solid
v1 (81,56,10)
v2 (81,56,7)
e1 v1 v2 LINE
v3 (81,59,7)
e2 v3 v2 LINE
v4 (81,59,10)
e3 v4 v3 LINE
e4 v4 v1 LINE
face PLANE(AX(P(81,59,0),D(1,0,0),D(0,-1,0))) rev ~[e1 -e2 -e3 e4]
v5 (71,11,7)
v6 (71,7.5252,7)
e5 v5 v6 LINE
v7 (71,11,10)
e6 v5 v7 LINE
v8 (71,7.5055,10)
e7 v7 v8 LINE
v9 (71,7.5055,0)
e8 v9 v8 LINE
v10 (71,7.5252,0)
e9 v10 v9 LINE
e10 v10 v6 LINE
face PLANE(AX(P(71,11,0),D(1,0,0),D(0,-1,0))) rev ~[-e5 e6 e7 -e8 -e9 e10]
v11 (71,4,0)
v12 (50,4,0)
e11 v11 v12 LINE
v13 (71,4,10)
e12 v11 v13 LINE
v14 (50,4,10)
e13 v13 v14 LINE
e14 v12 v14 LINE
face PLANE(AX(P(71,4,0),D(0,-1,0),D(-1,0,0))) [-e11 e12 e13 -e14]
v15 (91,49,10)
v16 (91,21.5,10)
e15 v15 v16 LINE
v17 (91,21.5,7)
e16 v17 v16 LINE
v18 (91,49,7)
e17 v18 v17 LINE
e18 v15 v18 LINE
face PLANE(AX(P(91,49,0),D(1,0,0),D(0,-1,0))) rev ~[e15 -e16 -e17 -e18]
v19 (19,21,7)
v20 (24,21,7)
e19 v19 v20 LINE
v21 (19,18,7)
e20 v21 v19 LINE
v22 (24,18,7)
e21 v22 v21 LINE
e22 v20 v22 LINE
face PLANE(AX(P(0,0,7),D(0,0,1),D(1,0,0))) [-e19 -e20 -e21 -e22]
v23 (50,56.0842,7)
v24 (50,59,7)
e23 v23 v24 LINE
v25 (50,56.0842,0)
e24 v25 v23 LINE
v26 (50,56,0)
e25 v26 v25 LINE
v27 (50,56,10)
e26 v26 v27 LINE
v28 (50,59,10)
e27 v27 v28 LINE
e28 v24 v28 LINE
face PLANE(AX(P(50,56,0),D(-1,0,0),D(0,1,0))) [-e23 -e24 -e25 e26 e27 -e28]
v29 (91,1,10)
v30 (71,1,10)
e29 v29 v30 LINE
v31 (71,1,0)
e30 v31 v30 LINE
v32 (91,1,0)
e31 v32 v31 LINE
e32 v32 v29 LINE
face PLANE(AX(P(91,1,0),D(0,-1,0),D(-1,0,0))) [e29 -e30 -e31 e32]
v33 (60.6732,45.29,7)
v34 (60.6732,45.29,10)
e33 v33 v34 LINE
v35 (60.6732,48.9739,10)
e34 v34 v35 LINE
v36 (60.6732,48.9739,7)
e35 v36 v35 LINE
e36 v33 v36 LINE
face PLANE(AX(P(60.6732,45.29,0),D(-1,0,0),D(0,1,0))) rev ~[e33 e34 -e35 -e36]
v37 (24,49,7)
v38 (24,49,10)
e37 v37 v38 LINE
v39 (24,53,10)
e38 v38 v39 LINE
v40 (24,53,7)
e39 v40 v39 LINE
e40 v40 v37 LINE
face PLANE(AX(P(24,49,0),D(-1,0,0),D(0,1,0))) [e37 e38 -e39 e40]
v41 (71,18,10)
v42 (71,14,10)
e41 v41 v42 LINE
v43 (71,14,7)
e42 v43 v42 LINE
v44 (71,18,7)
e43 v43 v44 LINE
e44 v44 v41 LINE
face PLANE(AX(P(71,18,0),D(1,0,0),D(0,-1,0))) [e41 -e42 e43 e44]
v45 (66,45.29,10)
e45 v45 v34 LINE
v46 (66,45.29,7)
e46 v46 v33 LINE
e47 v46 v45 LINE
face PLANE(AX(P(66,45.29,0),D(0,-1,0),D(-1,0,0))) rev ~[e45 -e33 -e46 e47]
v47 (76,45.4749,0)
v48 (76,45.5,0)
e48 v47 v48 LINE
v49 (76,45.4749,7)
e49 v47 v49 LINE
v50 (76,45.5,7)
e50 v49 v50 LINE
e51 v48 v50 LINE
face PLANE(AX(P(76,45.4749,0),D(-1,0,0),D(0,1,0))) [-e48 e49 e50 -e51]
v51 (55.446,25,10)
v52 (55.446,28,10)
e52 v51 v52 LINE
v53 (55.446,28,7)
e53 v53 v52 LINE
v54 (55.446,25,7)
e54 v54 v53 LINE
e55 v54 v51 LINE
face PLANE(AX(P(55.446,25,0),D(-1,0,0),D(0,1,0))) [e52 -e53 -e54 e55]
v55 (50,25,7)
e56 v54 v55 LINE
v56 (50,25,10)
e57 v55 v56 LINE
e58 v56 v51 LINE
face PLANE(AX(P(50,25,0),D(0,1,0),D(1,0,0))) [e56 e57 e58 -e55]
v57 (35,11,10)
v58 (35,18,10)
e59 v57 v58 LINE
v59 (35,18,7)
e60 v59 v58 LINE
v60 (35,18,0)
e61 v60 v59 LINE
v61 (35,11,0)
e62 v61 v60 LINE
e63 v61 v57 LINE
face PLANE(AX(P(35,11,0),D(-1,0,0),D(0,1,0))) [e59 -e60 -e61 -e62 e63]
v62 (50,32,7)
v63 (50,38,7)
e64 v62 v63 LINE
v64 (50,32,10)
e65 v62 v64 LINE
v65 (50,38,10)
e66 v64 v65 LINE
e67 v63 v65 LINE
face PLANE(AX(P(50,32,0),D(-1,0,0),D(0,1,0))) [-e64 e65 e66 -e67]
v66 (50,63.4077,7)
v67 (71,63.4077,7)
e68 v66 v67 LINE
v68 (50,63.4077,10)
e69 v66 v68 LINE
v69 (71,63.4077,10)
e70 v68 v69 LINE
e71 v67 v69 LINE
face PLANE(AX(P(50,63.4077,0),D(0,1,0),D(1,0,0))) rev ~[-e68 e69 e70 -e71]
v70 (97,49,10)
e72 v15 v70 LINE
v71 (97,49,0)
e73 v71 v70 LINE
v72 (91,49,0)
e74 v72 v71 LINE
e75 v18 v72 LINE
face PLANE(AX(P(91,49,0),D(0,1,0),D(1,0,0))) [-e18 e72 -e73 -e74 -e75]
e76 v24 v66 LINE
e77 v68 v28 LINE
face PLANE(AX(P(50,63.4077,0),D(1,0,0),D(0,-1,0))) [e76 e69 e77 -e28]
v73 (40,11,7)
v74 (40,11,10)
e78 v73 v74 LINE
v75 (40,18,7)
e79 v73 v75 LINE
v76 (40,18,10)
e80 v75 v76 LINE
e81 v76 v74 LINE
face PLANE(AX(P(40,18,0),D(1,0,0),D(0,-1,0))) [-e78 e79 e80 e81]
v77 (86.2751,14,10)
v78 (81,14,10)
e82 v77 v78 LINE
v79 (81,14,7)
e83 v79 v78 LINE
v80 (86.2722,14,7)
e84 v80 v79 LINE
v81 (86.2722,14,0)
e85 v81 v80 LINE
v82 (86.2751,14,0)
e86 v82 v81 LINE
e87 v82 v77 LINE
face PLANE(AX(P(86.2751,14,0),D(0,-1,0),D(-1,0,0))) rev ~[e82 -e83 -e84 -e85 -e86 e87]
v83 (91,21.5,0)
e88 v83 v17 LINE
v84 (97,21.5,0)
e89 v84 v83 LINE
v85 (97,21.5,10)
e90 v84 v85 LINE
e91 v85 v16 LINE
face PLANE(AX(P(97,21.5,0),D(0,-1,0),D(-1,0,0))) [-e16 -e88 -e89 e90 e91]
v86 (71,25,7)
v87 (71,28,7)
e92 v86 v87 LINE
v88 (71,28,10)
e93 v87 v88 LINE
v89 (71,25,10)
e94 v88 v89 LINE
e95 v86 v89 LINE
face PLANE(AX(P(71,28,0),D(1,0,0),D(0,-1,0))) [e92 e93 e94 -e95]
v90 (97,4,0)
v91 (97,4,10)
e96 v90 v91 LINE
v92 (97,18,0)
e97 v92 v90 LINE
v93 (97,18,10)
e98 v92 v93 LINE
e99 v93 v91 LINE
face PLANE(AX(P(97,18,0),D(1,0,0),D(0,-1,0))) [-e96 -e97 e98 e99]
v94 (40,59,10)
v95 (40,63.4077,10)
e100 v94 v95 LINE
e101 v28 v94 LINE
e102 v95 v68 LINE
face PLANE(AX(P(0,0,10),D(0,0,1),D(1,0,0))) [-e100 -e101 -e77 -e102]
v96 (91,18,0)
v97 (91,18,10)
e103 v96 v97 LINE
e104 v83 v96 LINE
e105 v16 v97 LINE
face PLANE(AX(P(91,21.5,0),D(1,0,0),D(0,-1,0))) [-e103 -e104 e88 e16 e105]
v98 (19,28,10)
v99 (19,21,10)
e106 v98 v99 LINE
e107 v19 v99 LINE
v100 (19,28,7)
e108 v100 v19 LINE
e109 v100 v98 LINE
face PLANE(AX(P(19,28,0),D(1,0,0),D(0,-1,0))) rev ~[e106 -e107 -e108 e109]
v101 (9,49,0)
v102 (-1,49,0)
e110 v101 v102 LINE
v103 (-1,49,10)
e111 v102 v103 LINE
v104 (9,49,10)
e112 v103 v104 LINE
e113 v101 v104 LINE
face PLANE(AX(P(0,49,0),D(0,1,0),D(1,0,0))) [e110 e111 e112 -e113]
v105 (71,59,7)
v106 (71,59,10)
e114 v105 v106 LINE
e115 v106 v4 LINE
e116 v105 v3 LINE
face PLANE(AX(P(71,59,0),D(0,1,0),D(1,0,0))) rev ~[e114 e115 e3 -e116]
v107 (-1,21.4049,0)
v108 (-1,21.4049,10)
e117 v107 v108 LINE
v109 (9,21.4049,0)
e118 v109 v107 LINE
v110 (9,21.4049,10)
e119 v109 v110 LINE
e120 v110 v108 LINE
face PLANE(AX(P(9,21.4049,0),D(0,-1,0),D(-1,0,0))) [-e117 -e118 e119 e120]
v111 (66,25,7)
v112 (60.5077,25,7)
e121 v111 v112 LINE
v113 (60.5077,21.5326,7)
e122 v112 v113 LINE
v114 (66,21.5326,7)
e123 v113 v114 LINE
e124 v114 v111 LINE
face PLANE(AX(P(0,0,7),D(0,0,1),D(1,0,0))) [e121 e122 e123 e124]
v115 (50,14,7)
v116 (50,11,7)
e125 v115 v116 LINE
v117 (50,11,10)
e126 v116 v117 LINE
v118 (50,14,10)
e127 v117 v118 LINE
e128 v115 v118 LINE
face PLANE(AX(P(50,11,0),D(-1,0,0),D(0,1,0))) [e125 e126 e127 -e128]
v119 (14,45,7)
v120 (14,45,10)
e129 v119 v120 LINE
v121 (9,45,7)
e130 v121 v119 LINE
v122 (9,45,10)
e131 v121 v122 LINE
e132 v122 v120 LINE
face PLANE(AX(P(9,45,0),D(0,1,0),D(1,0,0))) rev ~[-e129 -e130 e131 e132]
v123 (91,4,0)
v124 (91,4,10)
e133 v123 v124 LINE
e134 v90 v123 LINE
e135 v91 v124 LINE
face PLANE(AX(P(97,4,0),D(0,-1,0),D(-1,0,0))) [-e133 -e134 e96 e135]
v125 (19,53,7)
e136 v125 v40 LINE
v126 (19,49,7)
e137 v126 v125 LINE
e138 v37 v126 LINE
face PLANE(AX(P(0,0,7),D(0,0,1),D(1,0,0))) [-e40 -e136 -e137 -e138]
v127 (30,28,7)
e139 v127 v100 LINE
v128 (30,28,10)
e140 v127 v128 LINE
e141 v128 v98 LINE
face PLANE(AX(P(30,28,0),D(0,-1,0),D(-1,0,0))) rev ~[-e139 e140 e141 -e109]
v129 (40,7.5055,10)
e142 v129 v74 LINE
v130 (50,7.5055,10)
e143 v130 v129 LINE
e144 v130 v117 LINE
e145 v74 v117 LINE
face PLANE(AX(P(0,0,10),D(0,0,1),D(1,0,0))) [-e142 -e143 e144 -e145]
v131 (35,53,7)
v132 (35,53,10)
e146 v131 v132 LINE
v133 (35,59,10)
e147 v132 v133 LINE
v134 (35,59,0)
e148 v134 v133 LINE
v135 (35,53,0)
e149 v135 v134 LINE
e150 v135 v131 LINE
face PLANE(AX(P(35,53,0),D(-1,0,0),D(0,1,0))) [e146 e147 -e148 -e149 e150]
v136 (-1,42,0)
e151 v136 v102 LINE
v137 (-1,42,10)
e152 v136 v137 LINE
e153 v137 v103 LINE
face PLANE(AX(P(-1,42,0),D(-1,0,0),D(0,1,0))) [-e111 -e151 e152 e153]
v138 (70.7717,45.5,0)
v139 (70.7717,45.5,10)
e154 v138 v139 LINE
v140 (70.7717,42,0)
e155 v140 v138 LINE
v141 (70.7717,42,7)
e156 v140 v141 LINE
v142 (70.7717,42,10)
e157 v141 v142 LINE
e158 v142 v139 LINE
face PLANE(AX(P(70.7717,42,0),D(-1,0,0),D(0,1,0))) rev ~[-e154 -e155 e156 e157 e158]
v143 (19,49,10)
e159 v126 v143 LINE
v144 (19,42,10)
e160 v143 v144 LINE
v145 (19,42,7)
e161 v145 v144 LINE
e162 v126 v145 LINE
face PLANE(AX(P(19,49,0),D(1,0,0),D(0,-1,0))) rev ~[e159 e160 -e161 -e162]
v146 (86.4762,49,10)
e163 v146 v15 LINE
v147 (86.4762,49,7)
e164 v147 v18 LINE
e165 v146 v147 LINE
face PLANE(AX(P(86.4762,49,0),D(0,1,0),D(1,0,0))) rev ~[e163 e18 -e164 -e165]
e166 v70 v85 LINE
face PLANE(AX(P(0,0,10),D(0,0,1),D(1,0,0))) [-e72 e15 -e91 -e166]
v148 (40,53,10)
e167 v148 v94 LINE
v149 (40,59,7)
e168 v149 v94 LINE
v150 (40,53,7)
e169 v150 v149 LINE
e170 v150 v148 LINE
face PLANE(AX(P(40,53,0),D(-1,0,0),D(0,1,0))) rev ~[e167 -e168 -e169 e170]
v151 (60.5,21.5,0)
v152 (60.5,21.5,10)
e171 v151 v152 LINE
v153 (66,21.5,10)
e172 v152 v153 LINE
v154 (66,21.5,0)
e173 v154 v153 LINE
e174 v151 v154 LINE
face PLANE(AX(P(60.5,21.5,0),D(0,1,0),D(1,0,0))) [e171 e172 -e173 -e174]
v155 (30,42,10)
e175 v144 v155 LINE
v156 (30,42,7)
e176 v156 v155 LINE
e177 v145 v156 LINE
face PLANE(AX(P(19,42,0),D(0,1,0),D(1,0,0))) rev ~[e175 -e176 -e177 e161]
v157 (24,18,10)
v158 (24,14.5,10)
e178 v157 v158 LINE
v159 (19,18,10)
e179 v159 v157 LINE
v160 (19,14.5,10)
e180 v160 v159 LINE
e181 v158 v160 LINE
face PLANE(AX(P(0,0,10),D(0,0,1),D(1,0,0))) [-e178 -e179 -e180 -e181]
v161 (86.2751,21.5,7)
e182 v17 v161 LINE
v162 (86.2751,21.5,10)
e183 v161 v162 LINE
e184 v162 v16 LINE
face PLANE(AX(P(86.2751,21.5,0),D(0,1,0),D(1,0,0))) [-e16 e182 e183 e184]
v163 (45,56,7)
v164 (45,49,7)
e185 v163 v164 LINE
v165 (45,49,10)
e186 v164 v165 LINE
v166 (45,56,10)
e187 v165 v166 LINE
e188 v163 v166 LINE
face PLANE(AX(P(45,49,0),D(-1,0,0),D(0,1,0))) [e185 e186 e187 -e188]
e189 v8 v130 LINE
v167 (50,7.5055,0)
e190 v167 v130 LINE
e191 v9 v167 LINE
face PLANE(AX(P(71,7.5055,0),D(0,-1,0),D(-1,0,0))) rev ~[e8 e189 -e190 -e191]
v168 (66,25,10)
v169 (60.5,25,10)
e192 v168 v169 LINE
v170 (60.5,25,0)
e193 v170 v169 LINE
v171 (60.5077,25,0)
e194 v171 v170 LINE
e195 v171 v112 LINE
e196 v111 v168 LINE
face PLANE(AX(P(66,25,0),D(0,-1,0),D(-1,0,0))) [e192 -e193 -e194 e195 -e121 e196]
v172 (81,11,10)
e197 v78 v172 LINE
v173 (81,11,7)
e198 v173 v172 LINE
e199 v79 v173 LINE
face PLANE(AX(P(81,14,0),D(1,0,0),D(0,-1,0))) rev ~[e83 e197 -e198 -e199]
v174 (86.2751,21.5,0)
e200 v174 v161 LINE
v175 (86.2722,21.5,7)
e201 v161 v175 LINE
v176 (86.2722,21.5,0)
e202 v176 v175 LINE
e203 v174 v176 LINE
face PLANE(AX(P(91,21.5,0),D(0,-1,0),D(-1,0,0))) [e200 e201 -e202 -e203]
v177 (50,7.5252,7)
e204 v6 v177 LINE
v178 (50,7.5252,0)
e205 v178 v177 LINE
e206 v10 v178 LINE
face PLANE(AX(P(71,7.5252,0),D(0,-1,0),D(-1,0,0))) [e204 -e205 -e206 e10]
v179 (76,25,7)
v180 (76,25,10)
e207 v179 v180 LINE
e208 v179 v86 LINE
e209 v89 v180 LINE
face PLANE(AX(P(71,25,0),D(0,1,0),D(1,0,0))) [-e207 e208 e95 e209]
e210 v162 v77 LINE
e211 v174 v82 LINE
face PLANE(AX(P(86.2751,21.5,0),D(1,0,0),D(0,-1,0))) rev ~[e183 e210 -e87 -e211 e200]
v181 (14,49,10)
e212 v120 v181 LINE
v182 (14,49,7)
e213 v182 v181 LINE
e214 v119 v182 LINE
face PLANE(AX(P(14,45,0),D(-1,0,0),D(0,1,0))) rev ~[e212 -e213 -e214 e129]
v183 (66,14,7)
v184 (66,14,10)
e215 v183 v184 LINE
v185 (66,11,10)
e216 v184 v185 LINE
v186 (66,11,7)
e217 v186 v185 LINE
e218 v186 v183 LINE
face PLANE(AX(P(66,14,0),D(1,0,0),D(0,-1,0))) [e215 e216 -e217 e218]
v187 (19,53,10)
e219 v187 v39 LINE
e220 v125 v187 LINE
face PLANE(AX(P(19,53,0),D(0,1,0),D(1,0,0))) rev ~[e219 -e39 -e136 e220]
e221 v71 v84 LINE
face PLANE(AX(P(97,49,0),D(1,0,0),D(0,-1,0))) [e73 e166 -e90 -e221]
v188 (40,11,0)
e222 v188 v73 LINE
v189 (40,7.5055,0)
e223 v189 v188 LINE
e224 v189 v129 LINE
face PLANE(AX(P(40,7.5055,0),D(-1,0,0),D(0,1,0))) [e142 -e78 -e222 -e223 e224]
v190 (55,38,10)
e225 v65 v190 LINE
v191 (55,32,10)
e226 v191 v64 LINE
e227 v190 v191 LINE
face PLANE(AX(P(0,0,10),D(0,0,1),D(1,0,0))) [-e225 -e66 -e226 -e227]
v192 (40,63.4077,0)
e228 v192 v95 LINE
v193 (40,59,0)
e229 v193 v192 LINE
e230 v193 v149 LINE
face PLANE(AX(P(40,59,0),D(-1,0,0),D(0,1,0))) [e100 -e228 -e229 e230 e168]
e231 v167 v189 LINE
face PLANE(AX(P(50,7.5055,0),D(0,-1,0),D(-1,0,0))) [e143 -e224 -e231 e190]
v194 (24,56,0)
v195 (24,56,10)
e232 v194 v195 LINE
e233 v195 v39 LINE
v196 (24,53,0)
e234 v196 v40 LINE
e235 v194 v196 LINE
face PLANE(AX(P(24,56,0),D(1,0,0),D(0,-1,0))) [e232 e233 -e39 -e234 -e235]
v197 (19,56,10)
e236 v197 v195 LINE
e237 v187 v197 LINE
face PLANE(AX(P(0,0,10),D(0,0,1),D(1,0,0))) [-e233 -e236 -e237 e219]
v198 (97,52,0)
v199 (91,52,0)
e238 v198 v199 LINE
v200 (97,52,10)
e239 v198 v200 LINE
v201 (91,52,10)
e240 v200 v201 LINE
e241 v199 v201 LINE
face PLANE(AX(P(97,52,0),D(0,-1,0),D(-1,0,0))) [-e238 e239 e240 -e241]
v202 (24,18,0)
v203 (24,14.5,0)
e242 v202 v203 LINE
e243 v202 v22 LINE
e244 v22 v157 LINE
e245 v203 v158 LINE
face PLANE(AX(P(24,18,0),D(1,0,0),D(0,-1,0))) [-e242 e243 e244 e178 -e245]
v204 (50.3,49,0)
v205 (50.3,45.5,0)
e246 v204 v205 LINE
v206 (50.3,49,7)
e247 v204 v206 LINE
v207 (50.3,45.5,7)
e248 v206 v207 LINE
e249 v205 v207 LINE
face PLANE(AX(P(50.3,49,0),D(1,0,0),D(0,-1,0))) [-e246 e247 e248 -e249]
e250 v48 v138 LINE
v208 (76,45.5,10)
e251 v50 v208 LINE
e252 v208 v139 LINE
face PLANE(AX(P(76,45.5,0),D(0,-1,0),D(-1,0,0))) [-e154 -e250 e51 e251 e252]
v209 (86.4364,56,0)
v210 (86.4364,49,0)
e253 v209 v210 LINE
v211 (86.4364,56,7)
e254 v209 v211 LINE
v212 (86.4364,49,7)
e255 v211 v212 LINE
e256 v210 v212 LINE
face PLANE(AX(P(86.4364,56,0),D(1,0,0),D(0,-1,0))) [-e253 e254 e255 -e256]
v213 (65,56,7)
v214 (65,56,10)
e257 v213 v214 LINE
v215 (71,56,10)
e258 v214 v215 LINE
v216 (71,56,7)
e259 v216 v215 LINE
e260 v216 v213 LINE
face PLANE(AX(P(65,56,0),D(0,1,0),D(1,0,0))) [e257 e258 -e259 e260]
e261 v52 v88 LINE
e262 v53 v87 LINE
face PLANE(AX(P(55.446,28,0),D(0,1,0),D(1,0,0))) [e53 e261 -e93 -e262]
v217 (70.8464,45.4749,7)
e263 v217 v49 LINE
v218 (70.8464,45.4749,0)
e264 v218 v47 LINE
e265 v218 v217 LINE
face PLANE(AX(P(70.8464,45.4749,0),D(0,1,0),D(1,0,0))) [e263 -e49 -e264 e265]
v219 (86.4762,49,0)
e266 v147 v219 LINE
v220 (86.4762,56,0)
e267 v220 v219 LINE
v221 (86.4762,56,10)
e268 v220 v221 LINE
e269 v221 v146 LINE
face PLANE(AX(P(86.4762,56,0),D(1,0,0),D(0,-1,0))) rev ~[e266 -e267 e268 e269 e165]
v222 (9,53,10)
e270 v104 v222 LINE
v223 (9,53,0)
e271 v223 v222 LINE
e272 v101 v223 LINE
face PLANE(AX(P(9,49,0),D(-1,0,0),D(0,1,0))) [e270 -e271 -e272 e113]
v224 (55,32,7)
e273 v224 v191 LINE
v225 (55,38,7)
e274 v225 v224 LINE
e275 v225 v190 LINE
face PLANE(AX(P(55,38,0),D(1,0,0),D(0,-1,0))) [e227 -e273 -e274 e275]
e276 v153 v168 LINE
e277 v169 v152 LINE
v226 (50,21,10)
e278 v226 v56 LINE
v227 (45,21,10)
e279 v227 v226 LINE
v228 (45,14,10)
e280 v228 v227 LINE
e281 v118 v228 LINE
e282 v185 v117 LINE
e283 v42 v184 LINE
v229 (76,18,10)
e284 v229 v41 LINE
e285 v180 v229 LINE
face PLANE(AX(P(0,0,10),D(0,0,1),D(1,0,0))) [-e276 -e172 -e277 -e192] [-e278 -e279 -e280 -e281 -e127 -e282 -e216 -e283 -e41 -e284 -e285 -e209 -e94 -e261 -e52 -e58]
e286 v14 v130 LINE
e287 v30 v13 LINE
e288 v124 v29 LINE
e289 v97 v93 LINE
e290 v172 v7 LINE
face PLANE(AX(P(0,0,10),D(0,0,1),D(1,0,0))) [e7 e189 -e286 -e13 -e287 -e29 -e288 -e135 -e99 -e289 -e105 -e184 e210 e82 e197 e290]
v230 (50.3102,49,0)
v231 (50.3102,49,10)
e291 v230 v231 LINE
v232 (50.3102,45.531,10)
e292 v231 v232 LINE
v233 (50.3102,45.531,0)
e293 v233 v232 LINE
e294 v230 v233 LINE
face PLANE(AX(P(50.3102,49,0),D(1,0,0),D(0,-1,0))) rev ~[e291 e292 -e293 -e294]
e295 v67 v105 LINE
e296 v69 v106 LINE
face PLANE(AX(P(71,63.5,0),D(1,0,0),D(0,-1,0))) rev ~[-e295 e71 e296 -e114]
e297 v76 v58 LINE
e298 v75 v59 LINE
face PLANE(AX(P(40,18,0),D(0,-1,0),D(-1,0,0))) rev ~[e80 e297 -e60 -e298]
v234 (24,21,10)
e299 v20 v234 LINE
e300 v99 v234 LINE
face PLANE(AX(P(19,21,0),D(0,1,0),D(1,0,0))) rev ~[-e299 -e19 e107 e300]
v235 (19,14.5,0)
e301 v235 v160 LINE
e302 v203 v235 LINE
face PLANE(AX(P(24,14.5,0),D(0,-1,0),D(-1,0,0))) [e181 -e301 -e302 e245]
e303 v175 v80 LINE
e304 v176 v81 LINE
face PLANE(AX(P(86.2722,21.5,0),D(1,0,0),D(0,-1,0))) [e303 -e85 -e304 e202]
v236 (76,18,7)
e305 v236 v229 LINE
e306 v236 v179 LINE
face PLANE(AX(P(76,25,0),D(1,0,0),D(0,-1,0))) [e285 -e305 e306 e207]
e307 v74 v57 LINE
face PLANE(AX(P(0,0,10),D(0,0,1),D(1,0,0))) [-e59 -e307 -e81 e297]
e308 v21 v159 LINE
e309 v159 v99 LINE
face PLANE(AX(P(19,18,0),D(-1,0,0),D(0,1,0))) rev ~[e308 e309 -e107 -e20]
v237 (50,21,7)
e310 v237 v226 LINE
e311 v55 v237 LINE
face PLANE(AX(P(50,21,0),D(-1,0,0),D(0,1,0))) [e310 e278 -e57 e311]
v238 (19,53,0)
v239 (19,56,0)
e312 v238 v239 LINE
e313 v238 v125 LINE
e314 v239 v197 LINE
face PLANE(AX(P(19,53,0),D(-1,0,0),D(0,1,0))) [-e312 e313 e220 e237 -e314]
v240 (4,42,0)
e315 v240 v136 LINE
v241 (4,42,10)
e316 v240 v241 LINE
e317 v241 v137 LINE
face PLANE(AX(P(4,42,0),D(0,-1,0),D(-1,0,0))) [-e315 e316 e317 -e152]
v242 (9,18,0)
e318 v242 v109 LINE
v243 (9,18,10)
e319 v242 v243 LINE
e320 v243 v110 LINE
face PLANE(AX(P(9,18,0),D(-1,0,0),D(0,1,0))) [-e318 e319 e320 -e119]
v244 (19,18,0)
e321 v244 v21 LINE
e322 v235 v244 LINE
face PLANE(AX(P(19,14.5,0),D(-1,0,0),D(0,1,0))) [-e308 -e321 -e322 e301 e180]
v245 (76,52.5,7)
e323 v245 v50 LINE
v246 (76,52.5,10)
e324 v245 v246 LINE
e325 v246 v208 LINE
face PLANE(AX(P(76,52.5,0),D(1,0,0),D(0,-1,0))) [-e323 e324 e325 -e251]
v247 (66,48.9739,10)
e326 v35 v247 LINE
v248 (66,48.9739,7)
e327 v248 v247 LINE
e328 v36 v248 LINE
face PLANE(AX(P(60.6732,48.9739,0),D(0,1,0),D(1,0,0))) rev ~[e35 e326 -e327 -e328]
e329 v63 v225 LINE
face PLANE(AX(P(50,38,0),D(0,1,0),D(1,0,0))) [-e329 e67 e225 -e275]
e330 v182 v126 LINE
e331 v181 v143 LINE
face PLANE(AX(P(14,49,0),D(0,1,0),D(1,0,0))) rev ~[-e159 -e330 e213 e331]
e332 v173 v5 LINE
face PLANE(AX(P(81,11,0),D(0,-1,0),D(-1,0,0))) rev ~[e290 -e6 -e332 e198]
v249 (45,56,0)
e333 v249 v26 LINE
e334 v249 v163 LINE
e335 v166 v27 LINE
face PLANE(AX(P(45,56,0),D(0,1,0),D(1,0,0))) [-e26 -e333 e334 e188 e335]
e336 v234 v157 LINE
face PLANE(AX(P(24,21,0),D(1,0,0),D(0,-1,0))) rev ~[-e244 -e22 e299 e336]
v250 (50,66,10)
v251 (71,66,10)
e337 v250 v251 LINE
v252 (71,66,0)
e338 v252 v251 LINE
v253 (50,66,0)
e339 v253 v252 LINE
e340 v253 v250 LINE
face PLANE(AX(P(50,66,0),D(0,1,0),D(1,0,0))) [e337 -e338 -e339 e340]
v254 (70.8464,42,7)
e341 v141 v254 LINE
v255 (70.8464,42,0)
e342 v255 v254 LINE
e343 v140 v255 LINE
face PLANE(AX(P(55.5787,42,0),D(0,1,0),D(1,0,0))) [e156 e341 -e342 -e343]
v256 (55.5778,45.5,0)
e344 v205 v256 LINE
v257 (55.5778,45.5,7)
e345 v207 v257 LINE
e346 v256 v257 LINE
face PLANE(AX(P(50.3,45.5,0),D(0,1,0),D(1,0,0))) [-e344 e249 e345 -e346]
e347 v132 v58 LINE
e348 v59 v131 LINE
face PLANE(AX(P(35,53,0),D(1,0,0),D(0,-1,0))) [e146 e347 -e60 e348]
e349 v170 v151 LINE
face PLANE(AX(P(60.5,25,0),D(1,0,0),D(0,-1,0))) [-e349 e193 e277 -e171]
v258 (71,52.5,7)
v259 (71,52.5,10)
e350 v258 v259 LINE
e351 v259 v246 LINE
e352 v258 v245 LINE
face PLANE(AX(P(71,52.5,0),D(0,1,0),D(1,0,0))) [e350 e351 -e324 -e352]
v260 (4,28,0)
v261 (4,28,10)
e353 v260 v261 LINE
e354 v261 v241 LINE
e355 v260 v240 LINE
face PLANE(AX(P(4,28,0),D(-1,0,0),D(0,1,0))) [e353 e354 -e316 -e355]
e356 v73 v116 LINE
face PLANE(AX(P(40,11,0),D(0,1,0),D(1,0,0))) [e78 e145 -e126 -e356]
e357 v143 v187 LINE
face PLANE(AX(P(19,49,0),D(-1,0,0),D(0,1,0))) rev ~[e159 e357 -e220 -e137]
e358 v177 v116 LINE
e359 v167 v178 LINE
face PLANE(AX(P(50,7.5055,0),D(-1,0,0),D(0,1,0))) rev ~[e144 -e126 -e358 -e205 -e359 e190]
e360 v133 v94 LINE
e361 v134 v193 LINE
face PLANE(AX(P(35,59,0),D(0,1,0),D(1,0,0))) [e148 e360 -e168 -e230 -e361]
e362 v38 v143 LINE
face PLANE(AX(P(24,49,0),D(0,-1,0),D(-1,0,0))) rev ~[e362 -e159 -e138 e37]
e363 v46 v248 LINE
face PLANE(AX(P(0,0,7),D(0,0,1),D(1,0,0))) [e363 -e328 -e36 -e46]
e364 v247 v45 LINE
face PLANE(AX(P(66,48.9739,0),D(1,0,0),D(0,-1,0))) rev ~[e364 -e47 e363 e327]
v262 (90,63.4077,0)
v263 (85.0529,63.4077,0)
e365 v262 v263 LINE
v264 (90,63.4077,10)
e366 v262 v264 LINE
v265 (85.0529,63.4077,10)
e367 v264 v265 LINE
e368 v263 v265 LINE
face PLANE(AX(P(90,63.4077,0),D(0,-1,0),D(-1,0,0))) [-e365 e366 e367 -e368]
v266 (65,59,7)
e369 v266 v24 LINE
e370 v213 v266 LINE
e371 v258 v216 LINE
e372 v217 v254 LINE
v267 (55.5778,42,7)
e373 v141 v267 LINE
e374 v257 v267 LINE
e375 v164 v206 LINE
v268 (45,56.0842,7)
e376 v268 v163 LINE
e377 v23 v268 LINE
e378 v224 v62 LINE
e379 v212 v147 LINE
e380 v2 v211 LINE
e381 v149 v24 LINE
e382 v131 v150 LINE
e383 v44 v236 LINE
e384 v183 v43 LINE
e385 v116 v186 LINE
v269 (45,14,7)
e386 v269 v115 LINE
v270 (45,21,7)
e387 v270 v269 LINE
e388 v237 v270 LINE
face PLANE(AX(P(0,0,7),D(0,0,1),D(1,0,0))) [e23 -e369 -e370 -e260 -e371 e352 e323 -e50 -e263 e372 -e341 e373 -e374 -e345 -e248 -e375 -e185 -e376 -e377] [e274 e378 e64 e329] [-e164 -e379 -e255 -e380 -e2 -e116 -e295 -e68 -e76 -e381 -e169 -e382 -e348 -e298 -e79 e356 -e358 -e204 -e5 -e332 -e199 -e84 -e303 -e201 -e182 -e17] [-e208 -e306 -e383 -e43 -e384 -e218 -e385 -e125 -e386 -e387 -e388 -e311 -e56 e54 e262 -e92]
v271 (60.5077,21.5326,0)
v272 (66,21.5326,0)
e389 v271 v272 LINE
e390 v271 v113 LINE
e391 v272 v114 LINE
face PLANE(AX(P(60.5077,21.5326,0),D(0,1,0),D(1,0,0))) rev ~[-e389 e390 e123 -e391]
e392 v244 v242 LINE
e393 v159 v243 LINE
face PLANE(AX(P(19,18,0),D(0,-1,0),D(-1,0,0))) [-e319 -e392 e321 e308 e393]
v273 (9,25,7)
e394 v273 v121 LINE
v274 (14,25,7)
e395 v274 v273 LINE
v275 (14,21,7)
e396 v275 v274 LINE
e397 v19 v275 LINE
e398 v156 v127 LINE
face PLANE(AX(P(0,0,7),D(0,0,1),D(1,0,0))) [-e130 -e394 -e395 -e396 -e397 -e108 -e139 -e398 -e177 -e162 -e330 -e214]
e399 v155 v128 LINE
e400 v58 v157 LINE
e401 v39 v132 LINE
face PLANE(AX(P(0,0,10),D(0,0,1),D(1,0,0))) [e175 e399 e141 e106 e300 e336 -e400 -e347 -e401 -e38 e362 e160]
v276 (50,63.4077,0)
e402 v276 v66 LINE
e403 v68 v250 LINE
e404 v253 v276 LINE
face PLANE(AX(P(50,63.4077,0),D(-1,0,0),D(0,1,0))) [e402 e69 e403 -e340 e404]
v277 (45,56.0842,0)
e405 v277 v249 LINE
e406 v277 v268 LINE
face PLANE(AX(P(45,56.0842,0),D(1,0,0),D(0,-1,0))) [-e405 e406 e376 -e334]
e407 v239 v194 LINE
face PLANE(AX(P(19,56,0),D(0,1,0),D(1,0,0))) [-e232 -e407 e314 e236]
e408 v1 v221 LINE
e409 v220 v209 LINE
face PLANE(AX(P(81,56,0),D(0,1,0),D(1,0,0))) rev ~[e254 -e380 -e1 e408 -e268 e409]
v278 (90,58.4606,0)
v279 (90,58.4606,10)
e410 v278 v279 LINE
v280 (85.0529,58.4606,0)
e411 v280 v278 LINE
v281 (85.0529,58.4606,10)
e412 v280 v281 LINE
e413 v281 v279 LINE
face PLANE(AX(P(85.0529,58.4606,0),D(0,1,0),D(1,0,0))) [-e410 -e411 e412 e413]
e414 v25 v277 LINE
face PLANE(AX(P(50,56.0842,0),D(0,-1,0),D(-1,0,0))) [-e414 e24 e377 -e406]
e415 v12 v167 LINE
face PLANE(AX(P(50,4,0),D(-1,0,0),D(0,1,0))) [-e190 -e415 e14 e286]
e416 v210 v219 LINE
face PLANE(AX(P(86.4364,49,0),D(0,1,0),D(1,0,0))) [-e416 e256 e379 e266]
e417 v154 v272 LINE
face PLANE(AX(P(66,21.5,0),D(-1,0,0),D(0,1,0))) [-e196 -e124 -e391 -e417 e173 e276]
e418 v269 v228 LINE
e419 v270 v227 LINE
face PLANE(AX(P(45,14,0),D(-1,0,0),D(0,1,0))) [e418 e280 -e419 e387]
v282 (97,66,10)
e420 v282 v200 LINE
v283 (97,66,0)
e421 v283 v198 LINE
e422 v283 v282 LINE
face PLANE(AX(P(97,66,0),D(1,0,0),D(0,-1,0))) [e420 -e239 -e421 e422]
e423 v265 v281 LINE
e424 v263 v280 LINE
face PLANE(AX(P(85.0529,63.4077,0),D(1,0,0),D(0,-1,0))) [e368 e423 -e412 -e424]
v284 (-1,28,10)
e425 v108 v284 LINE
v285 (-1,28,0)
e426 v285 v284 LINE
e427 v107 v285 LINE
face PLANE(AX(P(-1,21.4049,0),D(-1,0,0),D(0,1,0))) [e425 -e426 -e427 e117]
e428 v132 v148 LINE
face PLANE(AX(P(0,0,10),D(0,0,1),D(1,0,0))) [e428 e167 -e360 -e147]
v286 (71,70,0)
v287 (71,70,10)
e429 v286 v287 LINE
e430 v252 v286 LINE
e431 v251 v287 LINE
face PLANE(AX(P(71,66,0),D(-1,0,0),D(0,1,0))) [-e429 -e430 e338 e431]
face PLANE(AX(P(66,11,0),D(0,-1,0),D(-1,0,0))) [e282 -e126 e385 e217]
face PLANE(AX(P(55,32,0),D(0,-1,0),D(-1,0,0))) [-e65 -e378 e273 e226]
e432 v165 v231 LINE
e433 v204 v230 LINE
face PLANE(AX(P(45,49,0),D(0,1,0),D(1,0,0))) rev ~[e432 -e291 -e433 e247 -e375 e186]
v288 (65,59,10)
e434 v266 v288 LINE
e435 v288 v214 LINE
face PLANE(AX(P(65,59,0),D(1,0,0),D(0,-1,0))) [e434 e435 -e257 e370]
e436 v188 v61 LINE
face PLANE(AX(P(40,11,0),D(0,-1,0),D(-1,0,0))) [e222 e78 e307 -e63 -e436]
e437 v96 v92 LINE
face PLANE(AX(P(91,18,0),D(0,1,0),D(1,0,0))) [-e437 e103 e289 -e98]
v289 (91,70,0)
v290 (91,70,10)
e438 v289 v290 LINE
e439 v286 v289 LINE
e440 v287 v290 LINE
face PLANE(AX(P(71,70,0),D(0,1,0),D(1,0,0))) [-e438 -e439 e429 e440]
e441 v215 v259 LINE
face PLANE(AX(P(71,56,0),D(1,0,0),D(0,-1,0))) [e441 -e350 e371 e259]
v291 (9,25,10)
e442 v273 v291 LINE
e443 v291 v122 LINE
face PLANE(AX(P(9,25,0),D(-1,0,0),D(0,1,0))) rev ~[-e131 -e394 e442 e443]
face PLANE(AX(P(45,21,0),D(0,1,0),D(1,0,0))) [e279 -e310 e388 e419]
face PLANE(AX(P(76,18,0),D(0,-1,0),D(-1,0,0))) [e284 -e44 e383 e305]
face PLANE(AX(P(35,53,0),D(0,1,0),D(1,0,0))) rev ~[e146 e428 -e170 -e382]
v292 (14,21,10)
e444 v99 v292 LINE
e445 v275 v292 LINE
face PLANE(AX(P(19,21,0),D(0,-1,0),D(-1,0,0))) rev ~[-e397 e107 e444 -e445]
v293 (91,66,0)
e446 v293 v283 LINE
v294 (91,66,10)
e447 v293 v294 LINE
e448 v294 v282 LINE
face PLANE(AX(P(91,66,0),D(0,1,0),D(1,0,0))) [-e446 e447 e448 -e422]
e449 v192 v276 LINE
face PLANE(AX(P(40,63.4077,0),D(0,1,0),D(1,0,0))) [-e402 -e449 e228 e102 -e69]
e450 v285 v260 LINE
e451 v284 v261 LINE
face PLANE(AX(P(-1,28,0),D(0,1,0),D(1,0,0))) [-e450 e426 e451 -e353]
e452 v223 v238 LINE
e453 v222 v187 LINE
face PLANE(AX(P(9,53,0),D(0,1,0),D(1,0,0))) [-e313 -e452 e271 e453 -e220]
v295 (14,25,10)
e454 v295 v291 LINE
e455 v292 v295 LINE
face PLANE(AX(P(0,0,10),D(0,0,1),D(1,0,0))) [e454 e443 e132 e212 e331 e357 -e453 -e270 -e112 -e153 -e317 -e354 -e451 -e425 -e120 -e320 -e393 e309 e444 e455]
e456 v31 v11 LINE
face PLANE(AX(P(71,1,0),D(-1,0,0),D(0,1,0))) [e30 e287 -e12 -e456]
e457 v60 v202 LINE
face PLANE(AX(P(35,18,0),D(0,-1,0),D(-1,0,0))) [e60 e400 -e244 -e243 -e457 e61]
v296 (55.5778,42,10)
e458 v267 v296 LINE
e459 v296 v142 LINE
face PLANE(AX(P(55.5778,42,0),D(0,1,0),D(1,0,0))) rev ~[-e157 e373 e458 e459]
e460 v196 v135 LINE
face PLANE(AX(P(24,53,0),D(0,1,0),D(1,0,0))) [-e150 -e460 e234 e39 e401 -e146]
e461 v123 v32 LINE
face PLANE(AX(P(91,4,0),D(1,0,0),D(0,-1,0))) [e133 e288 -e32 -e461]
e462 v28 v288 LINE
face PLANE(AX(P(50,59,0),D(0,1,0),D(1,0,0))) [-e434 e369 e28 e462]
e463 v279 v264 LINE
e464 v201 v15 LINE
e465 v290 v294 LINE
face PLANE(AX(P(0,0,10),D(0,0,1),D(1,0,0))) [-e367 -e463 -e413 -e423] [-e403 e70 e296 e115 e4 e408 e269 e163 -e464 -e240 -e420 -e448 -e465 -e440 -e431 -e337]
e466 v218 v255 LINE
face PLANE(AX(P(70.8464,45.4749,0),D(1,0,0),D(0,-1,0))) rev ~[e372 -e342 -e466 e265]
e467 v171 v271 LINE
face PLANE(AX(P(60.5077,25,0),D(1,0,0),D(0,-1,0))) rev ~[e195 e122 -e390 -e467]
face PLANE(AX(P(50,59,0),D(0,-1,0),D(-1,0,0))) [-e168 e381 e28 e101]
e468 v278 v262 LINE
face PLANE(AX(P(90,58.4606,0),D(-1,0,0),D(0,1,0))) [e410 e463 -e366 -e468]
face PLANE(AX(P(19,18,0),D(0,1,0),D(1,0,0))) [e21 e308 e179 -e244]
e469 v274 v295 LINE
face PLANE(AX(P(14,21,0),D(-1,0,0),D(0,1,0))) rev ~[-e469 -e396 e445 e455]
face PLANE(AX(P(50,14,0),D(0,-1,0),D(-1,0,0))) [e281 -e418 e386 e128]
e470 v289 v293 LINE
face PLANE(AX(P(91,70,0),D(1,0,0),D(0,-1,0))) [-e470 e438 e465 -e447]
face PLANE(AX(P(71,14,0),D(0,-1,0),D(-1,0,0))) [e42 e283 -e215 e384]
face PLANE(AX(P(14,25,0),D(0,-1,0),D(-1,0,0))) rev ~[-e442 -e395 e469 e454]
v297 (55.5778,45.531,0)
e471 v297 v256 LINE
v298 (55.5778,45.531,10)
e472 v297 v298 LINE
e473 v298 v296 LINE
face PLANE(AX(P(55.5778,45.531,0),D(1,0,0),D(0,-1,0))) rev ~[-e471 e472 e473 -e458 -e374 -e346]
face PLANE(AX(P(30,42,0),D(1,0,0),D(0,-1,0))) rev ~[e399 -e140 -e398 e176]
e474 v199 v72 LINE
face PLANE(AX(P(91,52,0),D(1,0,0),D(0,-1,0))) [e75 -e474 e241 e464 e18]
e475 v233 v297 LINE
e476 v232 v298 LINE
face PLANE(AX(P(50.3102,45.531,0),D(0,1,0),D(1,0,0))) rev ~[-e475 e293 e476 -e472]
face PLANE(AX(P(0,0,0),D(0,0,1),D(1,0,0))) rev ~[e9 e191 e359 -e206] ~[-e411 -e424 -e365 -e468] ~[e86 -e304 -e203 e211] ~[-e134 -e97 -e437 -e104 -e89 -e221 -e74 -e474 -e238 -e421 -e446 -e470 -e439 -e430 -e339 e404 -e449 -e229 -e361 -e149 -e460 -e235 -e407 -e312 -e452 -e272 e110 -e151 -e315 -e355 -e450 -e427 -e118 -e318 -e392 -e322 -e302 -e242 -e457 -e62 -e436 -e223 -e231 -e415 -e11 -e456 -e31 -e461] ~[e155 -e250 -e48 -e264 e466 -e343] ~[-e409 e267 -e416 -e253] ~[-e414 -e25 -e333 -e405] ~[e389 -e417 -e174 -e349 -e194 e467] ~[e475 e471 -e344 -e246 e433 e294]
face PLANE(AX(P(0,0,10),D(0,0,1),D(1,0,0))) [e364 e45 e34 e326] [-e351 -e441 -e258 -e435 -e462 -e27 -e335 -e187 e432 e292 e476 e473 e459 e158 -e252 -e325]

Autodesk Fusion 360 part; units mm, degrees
sketch "Sketch1" plane through (0, 0, 0) normal (0, 0, 1) x (1, 0, 0)
  line L0 (-15.7131, -43.8712) -> (-30, -43.8712)
  line L1 (-30, -43.8712) -> (-30, -50)
  line L2 (-30, -50) -> (-15.7131, -50)
  line L3 (-15.7131, -50) -> (-15.7131, -43.8712)
  line L4 (0, 49) -> (9, 49)
  line L5 (9, 49) -> (9, 53)
  line L6 (9, 53) -> (19, 53)
  line L7 (19, 53) -> (19, 56)
  line L8 (19, 56) -> (24, 56)
  line L9 (24, 56) -> (24, 53)
  line L10 (24, 53) -> (35, 53)
  line L11 (35, 53) -> (35, 59)
  line L12 (35, 59) -> (40, 59)
  line L13 (40, 59) -> (40, 63.4077)
  line L14 (40, 63.4077) -> (50, 63.4077)
  line L15 (50, 63.4077) -> (50, 66)
  line L16 (50, 66) -> (71, 66)
  line L17 (71, 66) -> (71, 70)
  line L18 (71, 70) -> (91, 70)
  line L19 (91, 70) -> (91, 66)
  line L20 (91, 66) -> (97, 66)
  line L21 (97, 66) -> (97, 52)
  line L22 (97, 52) -> (91, 52)
  line L23 (91, 52) -> (91, 49)
  line L24 (91, 49) -> (97, 49)
  line L25 (45, 49) -> (45, 56)
  line L26 (45, 56) -> (50, 56)
  line L27 (50, 56) -> (50, 59)
  line L28 (50, 59) -> (65, 59)
  line L29 (65, 59) -> (65, 56)
  line L30 (65, 56) -> (71, 56)
  line L31 (71, 56) -> (71, 52.5)
  line L32 (71, 52.5) -> (76, 52.5)
  line L33 (76, 52.5) -> (76, 45.5)
  line L34 (76, 45.5) -> (70.7717, 45.5)
  line L35 (60.6732, 48.9739) -> (66, 48.9739)
  line L36 (66, 48.9739) -> (66, 45.29)
  line L37 (66, 45.29) -> (60.6732, 45.29)
  line L38 (60.6732, 45.29) -> (60.6732, 48.9739)
  line L39 (45, 49) -> (50.3102, 49)
  line L40 (50.3102, 49) -> (50.3102, 45.531)
  line L41 (50.3102, 45.531) -> (55.5778, 45.531)
  line L42 (55.5778, 45.531) -> (55.5778, 42)
  line L43 (55.5778, 42) -> (70.7717, 42)
  line L44 (70.7717, 42) -> (70.7717, 45.5)
  line L45 (50, 38) -> (55, 38)
  line L46 (55, 38) -> (55, 32)
  line L47 (55, 32) -> (50, 32)
  line L48 (50, 32) -> (50, 38)
  line L49 (71, 25) -> (76, 25)
  line L50 (76, 25) -> (76, 18)
  line L51 (76, 18) -> (71, 18)
  line L52 (71, 18) -> (71, 14)
  line L53 (71, 14) -> (66, 14)
  line L54 (66, 14) -> (66, 11)
  line L55 (66, 11) -> (50, 11)
  line L56 (50, 11) -> (50, 14)
  line L57 (50, 14) -> (45, 14)
  line L58 (45, 14) -> (45, 21)
  line L59 (45, 21) -> (50, 21)
  line L60 (50, 21) -> (50, 25)
  line L61 (50, 25) -> (55.446, 25)
  line L62 (55.446, 25) -> (55.446, 28)
  line L63 (55.446, 28) -> (71, 28)
  line L64 (71, 28) -> (71, 25)
  line L65 (60.5, 25) -> (60.5, 21.5)
  line L66 (60.5, 21.5) -> (66, 21.5)
  line L67 (66, 21.5) -> (66, 25)
  line L68 (66, 25) -> (60.5, 25)
  line L69 (97, 49) -> (97, 21.5)
  line L70 (97, 21.5) -> (91, 21.5)
  line L71 (91, 21.5) -> (91, 18)
  line L72 (91, 18) -> (97, 18)
  line L73 (97, 18) -> (97, 4)
  line L74 (97, 4) -> (91, 4)
  line L75 (91, 4) -> (91, 1)
  line L76 (91, 1) -> (71, 1)
  line L77 (71, 1) -> (71, 4)
  line L78 (71, 4) -> (50, 4)
  line L79 (50, 4) -> (50, 7.5055)
  line L80 (50, 7.5055) -> (40, 7.5055)
  line L81 (40, 7.5055) -> (40, 11)
  line L82 (40, 11) -> (35, 11)
  line L83 (35, 11) -> (35, 18)
  line L84 (35, 18) -> (24, 18)
  line L85 (24, 18) -> (24, 14.5)
  line L86 (24, 14.5) -> (19, 14.5)
  line L87 (19, 14.5) -> (19, 18)
  line L88 (19, 18) -> (9, 18)
  line L89 (9, 18) -> (9, 21.4049)
  line L90 (9, 21.4049) -> (-1, 21.4049)
  line L91 (-1, 21.4049) -> (-1, 28)
  line L92 (-1, 28) -> (4, 28)
  line L93 (4, 28) -> (4, 42)
  line L94 (4, 42) -> (-1, 42)
  line L95 (-1, 42) -> (-1, 49)
  line L96 (-1, 49) -> (0, 49)
  line L97 (9, 25) -> (9, 45)
  line L98 (9, 45) -> (14, 45)
  line L99 (14, 45) -> (14, 49)
  line L100 (14, 49) -> (19, 49)
  line L101 (19, 49) -> (19, 53)
  line L102 (19, 53) -> (24, 53)
  line L103 (24, 49) -> (19, 49)
  line L104 (24, 49) -> (24, 53)
  line L105 (19, 49) -> (19, 42)
  line L106 (19, 42) -> (30, 42)
  line L107 (30, 42) -> (30, 28)
  line L108 (30, 28) -> (19, 28)
  line L109 (19, 28) -> (19, 21)
  line L110 (19, 21) -> (24, 21)
  line L111 (24, 21) -> (24, 18)
  line L112 (19, 18) -> (24, 18)
  line L113 (19, 18) -> (19, 21)
  line L114 (19, 21) -> (14, 21)
  line L115 (14, 21) -> (14, 25)
  line L116 (14, 25) -> (9, 25)
  line L117 (35, 53) -> (35, 18)
  line L118 (40, 18) -> (40, 11)
  line L119 (40, 18) -> (35, 18)
  line L120 (35, 53) -> (40, 53)
  line L121 (40, 53) -> (40, 59)
  line L122 (50, 59) -> (40, 59)
  line L123 (50, 63.4077) -> (50, 59)
  line L124 (50, 63.4077) -> (71, 63.4077)
  line L125 (71, 63.4077) -> (71, 59)
  line L126 (71, 59) -> (81, 59)
  line L127 (81, 59) -> (81, 56)
  line L128 (81, 56) -> (86.4762, 56)
  line L129 (86.4762, 56) -> (86.4762, 49)
  line L130 (86.4762, 49) -> (91, 49)
  line L131 (91, 49) -> (91, 21.5)
  line L132 (86.2751, 21.5) -> (86.2751, 14)
  line L133 (86.2751, 14) -> (81, 14)
  line L134 (81, 14) -> (81, 11)
  line L135 (81, 11) -> (71, 11)
  line L136 (71, 11) -> (71, 7.5055)
  line L137 (71, 7.5055) -> (50, 7.5055)
  line L138 (50, 7.5055) -> (50, 11)
  line L139 (40, 11) -> (50, 11)
  line L140 (86.2751, 21.5) -> (91, 21.5)
  line L141 (85.0529, 63.4077) -> (85.0529, 58.4606)
  line L142 (85.0529, 58.4606) -> (90, 58.4606)
  line L143 (90, 58.4606) -> (90, 63.4077)
  line L144 (90, 63.4077) -> (85.0529, 63.4077)
extrude "Extrude1" add sketch "Sketch1" along normal blind 10 contours L4 L5 L6 L88 L89 L90 L91 L92 L93 L94 L95 L96 L97 L98 L99 L100 L101 L113 L114 L115 L116 | L7 L8 L9 L102 | L10 L84 L103 L104 L105 L106 L107 L108 L109 L110 L111 L117 | L49 L50 L51 L52 L53 L54 L55 L56 L57 L58 L59 L60 L61 L62 L63 L64 | L25 L26 L27 L28 L29 L30 L31 L32 L33 L34 L39 L40 L41 L42 L43 L44 | L11 L12 L120 L121 | L82 L83 L118 L119 | L13 L14 L122 L123 | L85 L86 L87 L112 | L80 L81 L138 L139 | L15 L16 L17 L18 L19 L20 L21 L22 L23 L124 L125 L126 L127 L128 L129 L130 | L71 L72 L73 L74 L75 L76 L77 L78 L79 L132 L133 L134 L135 L136 L137 L140 | L24 L69 L70 L131 | L45 L46 L47 L48 makes body 1 at (82.351, 67.8026, 0) makes body 2 at (50, 34, 3.3333)
sketch "Sketch2" plane through (0, 0, 0) normal (0, 0, 1) x (1, 0, 0)
  line L0 (19, 53) -> (24, 53)
  line L1 (24, 53) -> (24, 49)
  line L2 (24, 49) -> (19, 49)
  line L3 (19, 49) -> (19, 53)
  line L4 (14, 45) -> (14, 49)
  line L5 (14, 49) -> (19, 49)
  line L6 (19, 42) -> (30, 42)
  line L7 (30, 42) -> (30, 28)
  line L8 (30, 28) -> (19, 28)
  line L9 (19, 28) -> (19, 21)
  line L10 (19, 21) -> (14, 21)
  line L11 (14, 21) -> (14, 25)
  line L12 (14, 25) -> (9, 25)
  line L13 (9, 25) -> (9, 45)
  line L14 (9, 45) -> (14, 45)
  line L15 (19, 49) -> (19, 42)
  line L16 (19, 21) -> (24, 21)
  line L17 (24, 21) -> (24, 18)
  line L18 (24, 18) -> (19, 18)
  line L19 (19, 18) -> (19, 21)
  line L20 (66, 49) -> (60.5621, 49)
  line L21 (60.5621, 49) -> (60.5621, 45.2572)
  line L22 (60.5621, 45.2572) -> (66, 45.2572)
  line L23 (66, 45.2572) -> (66, 49)
  line L24 (66, 25) -> (60.5077, 25)
  line L25 (60.5077, 25) -> (60.5077, 21.5326)
  line L26 (60.5077, 21.5326) -> (66, 21.5326)
  line L27 (66, 21.5326) -> (66, 25)
  line L28 (50, 38) -> (55, 38)
  line L29 (55, 38) -> (55, 32)
  line L30 (55, 32) -> (50, 32)
  line L31 (50, 32) -> (50, 38)
  line L32 (70.8464, 45.4749) -> (70.8464, 42)
  line L33 (70.8464, 45.4749) -> (76, 45.4749)
  line L34 (76, 45.4749) -> (76, 52.4943)
  line L35 (76, 52.4943) -> (71, 52.4943)
  line L36 (71, 52.4943) -> (71, 56)
  line L37 (71, 56) -> (65, 56)
  line L38 (65, 56) -> (65, 59)
  line L39 (65, 59) -> (50, 59)
  line L40 (50, 59) -> (50, 63.5)
  line L41 (50, 63.5) -> (71, 63.5)
  line L42 (71, 63.5) -> (71, 59)
  line L43 (71, 59) -> (81, 59)
  line L44 (81, 59) -> (81, 56)
  line L45 (81, 56) -> (86.4364, 56)
  line L46 (86.4364, 56) -> (86.4364, 49)
  line L47 (86.4364, 49) -> (91, 49)
  line L48 (91, 49) -> (91, 21.5)
  line L49 (91, 21.5) -> (86.2722, 21.5)
  line L50 (86.2722, 21.5) -> (86.2722, 14)
  line L51 (86.2722, 14) -> (81, 14)
  line L52 (81, 14) -> (81, 11)
  line L53 (81, 11) -> (71, 11)
  line L54 (71, 11) -> (71, 7.5252)
  line L55 (71, 7.5252) -> (50, 7.5252)
  line L56 (50, 7.5252) -> (50, 11)
  line L57 (50, 11) -> (66, 11)
  line L58 (66, 11) -> (66, 14)
  line L59 (66, 14) -> (71, 14)
  line L60 (71, 14) -> (71, 18)
  line L61 (71, 18) -> (76, 18)
  line L62 (76, 18) -> (76, 25)
  line L63 (76, 25) -> (71, 25)
  line L64 (71, 25) -> (71, 28)
  line L65 (71, 28) -> (55.4589, 28)
  line L66 (55.4589, 28) -> (55.4589, 25)
  line L67 (55.4589, 25) -> (50, 25)
  line L68 (50, 25) -> (50, 21)
  line L69 (50, 21) -> (45, 21)
  line L70 (45, 21) -> (45, 14)
  line L71 (45, 14) -> (50, 14)
  line L72 (50, 14) -> (50, 11)
  line L73 (40, 11) -> (40, 18)
  line L74 (40, 18) -> (35, 18)
  line L75 (35, 18) -> (35, 53)
  line L76 (35, 53) -> (40, 53)
  line L77 (50, 56.0842) -> (45, 56.0842)
  line L78 (45, 56.0842) -> (45, 49)
  line L79 (45, 49) -> (50.3, 49)
  line L80 (50.3, 49) -> (50.3, 45.5)
  line L81 (50.3, 45.5) -> (55.5787, 45.5)
  line L82 (55.5787, 45.5) -> (55.5787, 42)
  line L83 (55.5787, 42) -> (70.8464, 42)
  line L84 (40, 11) -> (50, 11)
  line L85 (40, 53) -> (40, 59)
  line L86 (40, 59) -> (50, 59)
  line L87 (50, 56.0842) -> (50, 59)
extrude "Extrude2" cut sketch "Sketch2" along normal blind 7 bodies 1
extrude "Extrude3" add sketch "Sketch2" along normal blind 7 bodies 1 2
